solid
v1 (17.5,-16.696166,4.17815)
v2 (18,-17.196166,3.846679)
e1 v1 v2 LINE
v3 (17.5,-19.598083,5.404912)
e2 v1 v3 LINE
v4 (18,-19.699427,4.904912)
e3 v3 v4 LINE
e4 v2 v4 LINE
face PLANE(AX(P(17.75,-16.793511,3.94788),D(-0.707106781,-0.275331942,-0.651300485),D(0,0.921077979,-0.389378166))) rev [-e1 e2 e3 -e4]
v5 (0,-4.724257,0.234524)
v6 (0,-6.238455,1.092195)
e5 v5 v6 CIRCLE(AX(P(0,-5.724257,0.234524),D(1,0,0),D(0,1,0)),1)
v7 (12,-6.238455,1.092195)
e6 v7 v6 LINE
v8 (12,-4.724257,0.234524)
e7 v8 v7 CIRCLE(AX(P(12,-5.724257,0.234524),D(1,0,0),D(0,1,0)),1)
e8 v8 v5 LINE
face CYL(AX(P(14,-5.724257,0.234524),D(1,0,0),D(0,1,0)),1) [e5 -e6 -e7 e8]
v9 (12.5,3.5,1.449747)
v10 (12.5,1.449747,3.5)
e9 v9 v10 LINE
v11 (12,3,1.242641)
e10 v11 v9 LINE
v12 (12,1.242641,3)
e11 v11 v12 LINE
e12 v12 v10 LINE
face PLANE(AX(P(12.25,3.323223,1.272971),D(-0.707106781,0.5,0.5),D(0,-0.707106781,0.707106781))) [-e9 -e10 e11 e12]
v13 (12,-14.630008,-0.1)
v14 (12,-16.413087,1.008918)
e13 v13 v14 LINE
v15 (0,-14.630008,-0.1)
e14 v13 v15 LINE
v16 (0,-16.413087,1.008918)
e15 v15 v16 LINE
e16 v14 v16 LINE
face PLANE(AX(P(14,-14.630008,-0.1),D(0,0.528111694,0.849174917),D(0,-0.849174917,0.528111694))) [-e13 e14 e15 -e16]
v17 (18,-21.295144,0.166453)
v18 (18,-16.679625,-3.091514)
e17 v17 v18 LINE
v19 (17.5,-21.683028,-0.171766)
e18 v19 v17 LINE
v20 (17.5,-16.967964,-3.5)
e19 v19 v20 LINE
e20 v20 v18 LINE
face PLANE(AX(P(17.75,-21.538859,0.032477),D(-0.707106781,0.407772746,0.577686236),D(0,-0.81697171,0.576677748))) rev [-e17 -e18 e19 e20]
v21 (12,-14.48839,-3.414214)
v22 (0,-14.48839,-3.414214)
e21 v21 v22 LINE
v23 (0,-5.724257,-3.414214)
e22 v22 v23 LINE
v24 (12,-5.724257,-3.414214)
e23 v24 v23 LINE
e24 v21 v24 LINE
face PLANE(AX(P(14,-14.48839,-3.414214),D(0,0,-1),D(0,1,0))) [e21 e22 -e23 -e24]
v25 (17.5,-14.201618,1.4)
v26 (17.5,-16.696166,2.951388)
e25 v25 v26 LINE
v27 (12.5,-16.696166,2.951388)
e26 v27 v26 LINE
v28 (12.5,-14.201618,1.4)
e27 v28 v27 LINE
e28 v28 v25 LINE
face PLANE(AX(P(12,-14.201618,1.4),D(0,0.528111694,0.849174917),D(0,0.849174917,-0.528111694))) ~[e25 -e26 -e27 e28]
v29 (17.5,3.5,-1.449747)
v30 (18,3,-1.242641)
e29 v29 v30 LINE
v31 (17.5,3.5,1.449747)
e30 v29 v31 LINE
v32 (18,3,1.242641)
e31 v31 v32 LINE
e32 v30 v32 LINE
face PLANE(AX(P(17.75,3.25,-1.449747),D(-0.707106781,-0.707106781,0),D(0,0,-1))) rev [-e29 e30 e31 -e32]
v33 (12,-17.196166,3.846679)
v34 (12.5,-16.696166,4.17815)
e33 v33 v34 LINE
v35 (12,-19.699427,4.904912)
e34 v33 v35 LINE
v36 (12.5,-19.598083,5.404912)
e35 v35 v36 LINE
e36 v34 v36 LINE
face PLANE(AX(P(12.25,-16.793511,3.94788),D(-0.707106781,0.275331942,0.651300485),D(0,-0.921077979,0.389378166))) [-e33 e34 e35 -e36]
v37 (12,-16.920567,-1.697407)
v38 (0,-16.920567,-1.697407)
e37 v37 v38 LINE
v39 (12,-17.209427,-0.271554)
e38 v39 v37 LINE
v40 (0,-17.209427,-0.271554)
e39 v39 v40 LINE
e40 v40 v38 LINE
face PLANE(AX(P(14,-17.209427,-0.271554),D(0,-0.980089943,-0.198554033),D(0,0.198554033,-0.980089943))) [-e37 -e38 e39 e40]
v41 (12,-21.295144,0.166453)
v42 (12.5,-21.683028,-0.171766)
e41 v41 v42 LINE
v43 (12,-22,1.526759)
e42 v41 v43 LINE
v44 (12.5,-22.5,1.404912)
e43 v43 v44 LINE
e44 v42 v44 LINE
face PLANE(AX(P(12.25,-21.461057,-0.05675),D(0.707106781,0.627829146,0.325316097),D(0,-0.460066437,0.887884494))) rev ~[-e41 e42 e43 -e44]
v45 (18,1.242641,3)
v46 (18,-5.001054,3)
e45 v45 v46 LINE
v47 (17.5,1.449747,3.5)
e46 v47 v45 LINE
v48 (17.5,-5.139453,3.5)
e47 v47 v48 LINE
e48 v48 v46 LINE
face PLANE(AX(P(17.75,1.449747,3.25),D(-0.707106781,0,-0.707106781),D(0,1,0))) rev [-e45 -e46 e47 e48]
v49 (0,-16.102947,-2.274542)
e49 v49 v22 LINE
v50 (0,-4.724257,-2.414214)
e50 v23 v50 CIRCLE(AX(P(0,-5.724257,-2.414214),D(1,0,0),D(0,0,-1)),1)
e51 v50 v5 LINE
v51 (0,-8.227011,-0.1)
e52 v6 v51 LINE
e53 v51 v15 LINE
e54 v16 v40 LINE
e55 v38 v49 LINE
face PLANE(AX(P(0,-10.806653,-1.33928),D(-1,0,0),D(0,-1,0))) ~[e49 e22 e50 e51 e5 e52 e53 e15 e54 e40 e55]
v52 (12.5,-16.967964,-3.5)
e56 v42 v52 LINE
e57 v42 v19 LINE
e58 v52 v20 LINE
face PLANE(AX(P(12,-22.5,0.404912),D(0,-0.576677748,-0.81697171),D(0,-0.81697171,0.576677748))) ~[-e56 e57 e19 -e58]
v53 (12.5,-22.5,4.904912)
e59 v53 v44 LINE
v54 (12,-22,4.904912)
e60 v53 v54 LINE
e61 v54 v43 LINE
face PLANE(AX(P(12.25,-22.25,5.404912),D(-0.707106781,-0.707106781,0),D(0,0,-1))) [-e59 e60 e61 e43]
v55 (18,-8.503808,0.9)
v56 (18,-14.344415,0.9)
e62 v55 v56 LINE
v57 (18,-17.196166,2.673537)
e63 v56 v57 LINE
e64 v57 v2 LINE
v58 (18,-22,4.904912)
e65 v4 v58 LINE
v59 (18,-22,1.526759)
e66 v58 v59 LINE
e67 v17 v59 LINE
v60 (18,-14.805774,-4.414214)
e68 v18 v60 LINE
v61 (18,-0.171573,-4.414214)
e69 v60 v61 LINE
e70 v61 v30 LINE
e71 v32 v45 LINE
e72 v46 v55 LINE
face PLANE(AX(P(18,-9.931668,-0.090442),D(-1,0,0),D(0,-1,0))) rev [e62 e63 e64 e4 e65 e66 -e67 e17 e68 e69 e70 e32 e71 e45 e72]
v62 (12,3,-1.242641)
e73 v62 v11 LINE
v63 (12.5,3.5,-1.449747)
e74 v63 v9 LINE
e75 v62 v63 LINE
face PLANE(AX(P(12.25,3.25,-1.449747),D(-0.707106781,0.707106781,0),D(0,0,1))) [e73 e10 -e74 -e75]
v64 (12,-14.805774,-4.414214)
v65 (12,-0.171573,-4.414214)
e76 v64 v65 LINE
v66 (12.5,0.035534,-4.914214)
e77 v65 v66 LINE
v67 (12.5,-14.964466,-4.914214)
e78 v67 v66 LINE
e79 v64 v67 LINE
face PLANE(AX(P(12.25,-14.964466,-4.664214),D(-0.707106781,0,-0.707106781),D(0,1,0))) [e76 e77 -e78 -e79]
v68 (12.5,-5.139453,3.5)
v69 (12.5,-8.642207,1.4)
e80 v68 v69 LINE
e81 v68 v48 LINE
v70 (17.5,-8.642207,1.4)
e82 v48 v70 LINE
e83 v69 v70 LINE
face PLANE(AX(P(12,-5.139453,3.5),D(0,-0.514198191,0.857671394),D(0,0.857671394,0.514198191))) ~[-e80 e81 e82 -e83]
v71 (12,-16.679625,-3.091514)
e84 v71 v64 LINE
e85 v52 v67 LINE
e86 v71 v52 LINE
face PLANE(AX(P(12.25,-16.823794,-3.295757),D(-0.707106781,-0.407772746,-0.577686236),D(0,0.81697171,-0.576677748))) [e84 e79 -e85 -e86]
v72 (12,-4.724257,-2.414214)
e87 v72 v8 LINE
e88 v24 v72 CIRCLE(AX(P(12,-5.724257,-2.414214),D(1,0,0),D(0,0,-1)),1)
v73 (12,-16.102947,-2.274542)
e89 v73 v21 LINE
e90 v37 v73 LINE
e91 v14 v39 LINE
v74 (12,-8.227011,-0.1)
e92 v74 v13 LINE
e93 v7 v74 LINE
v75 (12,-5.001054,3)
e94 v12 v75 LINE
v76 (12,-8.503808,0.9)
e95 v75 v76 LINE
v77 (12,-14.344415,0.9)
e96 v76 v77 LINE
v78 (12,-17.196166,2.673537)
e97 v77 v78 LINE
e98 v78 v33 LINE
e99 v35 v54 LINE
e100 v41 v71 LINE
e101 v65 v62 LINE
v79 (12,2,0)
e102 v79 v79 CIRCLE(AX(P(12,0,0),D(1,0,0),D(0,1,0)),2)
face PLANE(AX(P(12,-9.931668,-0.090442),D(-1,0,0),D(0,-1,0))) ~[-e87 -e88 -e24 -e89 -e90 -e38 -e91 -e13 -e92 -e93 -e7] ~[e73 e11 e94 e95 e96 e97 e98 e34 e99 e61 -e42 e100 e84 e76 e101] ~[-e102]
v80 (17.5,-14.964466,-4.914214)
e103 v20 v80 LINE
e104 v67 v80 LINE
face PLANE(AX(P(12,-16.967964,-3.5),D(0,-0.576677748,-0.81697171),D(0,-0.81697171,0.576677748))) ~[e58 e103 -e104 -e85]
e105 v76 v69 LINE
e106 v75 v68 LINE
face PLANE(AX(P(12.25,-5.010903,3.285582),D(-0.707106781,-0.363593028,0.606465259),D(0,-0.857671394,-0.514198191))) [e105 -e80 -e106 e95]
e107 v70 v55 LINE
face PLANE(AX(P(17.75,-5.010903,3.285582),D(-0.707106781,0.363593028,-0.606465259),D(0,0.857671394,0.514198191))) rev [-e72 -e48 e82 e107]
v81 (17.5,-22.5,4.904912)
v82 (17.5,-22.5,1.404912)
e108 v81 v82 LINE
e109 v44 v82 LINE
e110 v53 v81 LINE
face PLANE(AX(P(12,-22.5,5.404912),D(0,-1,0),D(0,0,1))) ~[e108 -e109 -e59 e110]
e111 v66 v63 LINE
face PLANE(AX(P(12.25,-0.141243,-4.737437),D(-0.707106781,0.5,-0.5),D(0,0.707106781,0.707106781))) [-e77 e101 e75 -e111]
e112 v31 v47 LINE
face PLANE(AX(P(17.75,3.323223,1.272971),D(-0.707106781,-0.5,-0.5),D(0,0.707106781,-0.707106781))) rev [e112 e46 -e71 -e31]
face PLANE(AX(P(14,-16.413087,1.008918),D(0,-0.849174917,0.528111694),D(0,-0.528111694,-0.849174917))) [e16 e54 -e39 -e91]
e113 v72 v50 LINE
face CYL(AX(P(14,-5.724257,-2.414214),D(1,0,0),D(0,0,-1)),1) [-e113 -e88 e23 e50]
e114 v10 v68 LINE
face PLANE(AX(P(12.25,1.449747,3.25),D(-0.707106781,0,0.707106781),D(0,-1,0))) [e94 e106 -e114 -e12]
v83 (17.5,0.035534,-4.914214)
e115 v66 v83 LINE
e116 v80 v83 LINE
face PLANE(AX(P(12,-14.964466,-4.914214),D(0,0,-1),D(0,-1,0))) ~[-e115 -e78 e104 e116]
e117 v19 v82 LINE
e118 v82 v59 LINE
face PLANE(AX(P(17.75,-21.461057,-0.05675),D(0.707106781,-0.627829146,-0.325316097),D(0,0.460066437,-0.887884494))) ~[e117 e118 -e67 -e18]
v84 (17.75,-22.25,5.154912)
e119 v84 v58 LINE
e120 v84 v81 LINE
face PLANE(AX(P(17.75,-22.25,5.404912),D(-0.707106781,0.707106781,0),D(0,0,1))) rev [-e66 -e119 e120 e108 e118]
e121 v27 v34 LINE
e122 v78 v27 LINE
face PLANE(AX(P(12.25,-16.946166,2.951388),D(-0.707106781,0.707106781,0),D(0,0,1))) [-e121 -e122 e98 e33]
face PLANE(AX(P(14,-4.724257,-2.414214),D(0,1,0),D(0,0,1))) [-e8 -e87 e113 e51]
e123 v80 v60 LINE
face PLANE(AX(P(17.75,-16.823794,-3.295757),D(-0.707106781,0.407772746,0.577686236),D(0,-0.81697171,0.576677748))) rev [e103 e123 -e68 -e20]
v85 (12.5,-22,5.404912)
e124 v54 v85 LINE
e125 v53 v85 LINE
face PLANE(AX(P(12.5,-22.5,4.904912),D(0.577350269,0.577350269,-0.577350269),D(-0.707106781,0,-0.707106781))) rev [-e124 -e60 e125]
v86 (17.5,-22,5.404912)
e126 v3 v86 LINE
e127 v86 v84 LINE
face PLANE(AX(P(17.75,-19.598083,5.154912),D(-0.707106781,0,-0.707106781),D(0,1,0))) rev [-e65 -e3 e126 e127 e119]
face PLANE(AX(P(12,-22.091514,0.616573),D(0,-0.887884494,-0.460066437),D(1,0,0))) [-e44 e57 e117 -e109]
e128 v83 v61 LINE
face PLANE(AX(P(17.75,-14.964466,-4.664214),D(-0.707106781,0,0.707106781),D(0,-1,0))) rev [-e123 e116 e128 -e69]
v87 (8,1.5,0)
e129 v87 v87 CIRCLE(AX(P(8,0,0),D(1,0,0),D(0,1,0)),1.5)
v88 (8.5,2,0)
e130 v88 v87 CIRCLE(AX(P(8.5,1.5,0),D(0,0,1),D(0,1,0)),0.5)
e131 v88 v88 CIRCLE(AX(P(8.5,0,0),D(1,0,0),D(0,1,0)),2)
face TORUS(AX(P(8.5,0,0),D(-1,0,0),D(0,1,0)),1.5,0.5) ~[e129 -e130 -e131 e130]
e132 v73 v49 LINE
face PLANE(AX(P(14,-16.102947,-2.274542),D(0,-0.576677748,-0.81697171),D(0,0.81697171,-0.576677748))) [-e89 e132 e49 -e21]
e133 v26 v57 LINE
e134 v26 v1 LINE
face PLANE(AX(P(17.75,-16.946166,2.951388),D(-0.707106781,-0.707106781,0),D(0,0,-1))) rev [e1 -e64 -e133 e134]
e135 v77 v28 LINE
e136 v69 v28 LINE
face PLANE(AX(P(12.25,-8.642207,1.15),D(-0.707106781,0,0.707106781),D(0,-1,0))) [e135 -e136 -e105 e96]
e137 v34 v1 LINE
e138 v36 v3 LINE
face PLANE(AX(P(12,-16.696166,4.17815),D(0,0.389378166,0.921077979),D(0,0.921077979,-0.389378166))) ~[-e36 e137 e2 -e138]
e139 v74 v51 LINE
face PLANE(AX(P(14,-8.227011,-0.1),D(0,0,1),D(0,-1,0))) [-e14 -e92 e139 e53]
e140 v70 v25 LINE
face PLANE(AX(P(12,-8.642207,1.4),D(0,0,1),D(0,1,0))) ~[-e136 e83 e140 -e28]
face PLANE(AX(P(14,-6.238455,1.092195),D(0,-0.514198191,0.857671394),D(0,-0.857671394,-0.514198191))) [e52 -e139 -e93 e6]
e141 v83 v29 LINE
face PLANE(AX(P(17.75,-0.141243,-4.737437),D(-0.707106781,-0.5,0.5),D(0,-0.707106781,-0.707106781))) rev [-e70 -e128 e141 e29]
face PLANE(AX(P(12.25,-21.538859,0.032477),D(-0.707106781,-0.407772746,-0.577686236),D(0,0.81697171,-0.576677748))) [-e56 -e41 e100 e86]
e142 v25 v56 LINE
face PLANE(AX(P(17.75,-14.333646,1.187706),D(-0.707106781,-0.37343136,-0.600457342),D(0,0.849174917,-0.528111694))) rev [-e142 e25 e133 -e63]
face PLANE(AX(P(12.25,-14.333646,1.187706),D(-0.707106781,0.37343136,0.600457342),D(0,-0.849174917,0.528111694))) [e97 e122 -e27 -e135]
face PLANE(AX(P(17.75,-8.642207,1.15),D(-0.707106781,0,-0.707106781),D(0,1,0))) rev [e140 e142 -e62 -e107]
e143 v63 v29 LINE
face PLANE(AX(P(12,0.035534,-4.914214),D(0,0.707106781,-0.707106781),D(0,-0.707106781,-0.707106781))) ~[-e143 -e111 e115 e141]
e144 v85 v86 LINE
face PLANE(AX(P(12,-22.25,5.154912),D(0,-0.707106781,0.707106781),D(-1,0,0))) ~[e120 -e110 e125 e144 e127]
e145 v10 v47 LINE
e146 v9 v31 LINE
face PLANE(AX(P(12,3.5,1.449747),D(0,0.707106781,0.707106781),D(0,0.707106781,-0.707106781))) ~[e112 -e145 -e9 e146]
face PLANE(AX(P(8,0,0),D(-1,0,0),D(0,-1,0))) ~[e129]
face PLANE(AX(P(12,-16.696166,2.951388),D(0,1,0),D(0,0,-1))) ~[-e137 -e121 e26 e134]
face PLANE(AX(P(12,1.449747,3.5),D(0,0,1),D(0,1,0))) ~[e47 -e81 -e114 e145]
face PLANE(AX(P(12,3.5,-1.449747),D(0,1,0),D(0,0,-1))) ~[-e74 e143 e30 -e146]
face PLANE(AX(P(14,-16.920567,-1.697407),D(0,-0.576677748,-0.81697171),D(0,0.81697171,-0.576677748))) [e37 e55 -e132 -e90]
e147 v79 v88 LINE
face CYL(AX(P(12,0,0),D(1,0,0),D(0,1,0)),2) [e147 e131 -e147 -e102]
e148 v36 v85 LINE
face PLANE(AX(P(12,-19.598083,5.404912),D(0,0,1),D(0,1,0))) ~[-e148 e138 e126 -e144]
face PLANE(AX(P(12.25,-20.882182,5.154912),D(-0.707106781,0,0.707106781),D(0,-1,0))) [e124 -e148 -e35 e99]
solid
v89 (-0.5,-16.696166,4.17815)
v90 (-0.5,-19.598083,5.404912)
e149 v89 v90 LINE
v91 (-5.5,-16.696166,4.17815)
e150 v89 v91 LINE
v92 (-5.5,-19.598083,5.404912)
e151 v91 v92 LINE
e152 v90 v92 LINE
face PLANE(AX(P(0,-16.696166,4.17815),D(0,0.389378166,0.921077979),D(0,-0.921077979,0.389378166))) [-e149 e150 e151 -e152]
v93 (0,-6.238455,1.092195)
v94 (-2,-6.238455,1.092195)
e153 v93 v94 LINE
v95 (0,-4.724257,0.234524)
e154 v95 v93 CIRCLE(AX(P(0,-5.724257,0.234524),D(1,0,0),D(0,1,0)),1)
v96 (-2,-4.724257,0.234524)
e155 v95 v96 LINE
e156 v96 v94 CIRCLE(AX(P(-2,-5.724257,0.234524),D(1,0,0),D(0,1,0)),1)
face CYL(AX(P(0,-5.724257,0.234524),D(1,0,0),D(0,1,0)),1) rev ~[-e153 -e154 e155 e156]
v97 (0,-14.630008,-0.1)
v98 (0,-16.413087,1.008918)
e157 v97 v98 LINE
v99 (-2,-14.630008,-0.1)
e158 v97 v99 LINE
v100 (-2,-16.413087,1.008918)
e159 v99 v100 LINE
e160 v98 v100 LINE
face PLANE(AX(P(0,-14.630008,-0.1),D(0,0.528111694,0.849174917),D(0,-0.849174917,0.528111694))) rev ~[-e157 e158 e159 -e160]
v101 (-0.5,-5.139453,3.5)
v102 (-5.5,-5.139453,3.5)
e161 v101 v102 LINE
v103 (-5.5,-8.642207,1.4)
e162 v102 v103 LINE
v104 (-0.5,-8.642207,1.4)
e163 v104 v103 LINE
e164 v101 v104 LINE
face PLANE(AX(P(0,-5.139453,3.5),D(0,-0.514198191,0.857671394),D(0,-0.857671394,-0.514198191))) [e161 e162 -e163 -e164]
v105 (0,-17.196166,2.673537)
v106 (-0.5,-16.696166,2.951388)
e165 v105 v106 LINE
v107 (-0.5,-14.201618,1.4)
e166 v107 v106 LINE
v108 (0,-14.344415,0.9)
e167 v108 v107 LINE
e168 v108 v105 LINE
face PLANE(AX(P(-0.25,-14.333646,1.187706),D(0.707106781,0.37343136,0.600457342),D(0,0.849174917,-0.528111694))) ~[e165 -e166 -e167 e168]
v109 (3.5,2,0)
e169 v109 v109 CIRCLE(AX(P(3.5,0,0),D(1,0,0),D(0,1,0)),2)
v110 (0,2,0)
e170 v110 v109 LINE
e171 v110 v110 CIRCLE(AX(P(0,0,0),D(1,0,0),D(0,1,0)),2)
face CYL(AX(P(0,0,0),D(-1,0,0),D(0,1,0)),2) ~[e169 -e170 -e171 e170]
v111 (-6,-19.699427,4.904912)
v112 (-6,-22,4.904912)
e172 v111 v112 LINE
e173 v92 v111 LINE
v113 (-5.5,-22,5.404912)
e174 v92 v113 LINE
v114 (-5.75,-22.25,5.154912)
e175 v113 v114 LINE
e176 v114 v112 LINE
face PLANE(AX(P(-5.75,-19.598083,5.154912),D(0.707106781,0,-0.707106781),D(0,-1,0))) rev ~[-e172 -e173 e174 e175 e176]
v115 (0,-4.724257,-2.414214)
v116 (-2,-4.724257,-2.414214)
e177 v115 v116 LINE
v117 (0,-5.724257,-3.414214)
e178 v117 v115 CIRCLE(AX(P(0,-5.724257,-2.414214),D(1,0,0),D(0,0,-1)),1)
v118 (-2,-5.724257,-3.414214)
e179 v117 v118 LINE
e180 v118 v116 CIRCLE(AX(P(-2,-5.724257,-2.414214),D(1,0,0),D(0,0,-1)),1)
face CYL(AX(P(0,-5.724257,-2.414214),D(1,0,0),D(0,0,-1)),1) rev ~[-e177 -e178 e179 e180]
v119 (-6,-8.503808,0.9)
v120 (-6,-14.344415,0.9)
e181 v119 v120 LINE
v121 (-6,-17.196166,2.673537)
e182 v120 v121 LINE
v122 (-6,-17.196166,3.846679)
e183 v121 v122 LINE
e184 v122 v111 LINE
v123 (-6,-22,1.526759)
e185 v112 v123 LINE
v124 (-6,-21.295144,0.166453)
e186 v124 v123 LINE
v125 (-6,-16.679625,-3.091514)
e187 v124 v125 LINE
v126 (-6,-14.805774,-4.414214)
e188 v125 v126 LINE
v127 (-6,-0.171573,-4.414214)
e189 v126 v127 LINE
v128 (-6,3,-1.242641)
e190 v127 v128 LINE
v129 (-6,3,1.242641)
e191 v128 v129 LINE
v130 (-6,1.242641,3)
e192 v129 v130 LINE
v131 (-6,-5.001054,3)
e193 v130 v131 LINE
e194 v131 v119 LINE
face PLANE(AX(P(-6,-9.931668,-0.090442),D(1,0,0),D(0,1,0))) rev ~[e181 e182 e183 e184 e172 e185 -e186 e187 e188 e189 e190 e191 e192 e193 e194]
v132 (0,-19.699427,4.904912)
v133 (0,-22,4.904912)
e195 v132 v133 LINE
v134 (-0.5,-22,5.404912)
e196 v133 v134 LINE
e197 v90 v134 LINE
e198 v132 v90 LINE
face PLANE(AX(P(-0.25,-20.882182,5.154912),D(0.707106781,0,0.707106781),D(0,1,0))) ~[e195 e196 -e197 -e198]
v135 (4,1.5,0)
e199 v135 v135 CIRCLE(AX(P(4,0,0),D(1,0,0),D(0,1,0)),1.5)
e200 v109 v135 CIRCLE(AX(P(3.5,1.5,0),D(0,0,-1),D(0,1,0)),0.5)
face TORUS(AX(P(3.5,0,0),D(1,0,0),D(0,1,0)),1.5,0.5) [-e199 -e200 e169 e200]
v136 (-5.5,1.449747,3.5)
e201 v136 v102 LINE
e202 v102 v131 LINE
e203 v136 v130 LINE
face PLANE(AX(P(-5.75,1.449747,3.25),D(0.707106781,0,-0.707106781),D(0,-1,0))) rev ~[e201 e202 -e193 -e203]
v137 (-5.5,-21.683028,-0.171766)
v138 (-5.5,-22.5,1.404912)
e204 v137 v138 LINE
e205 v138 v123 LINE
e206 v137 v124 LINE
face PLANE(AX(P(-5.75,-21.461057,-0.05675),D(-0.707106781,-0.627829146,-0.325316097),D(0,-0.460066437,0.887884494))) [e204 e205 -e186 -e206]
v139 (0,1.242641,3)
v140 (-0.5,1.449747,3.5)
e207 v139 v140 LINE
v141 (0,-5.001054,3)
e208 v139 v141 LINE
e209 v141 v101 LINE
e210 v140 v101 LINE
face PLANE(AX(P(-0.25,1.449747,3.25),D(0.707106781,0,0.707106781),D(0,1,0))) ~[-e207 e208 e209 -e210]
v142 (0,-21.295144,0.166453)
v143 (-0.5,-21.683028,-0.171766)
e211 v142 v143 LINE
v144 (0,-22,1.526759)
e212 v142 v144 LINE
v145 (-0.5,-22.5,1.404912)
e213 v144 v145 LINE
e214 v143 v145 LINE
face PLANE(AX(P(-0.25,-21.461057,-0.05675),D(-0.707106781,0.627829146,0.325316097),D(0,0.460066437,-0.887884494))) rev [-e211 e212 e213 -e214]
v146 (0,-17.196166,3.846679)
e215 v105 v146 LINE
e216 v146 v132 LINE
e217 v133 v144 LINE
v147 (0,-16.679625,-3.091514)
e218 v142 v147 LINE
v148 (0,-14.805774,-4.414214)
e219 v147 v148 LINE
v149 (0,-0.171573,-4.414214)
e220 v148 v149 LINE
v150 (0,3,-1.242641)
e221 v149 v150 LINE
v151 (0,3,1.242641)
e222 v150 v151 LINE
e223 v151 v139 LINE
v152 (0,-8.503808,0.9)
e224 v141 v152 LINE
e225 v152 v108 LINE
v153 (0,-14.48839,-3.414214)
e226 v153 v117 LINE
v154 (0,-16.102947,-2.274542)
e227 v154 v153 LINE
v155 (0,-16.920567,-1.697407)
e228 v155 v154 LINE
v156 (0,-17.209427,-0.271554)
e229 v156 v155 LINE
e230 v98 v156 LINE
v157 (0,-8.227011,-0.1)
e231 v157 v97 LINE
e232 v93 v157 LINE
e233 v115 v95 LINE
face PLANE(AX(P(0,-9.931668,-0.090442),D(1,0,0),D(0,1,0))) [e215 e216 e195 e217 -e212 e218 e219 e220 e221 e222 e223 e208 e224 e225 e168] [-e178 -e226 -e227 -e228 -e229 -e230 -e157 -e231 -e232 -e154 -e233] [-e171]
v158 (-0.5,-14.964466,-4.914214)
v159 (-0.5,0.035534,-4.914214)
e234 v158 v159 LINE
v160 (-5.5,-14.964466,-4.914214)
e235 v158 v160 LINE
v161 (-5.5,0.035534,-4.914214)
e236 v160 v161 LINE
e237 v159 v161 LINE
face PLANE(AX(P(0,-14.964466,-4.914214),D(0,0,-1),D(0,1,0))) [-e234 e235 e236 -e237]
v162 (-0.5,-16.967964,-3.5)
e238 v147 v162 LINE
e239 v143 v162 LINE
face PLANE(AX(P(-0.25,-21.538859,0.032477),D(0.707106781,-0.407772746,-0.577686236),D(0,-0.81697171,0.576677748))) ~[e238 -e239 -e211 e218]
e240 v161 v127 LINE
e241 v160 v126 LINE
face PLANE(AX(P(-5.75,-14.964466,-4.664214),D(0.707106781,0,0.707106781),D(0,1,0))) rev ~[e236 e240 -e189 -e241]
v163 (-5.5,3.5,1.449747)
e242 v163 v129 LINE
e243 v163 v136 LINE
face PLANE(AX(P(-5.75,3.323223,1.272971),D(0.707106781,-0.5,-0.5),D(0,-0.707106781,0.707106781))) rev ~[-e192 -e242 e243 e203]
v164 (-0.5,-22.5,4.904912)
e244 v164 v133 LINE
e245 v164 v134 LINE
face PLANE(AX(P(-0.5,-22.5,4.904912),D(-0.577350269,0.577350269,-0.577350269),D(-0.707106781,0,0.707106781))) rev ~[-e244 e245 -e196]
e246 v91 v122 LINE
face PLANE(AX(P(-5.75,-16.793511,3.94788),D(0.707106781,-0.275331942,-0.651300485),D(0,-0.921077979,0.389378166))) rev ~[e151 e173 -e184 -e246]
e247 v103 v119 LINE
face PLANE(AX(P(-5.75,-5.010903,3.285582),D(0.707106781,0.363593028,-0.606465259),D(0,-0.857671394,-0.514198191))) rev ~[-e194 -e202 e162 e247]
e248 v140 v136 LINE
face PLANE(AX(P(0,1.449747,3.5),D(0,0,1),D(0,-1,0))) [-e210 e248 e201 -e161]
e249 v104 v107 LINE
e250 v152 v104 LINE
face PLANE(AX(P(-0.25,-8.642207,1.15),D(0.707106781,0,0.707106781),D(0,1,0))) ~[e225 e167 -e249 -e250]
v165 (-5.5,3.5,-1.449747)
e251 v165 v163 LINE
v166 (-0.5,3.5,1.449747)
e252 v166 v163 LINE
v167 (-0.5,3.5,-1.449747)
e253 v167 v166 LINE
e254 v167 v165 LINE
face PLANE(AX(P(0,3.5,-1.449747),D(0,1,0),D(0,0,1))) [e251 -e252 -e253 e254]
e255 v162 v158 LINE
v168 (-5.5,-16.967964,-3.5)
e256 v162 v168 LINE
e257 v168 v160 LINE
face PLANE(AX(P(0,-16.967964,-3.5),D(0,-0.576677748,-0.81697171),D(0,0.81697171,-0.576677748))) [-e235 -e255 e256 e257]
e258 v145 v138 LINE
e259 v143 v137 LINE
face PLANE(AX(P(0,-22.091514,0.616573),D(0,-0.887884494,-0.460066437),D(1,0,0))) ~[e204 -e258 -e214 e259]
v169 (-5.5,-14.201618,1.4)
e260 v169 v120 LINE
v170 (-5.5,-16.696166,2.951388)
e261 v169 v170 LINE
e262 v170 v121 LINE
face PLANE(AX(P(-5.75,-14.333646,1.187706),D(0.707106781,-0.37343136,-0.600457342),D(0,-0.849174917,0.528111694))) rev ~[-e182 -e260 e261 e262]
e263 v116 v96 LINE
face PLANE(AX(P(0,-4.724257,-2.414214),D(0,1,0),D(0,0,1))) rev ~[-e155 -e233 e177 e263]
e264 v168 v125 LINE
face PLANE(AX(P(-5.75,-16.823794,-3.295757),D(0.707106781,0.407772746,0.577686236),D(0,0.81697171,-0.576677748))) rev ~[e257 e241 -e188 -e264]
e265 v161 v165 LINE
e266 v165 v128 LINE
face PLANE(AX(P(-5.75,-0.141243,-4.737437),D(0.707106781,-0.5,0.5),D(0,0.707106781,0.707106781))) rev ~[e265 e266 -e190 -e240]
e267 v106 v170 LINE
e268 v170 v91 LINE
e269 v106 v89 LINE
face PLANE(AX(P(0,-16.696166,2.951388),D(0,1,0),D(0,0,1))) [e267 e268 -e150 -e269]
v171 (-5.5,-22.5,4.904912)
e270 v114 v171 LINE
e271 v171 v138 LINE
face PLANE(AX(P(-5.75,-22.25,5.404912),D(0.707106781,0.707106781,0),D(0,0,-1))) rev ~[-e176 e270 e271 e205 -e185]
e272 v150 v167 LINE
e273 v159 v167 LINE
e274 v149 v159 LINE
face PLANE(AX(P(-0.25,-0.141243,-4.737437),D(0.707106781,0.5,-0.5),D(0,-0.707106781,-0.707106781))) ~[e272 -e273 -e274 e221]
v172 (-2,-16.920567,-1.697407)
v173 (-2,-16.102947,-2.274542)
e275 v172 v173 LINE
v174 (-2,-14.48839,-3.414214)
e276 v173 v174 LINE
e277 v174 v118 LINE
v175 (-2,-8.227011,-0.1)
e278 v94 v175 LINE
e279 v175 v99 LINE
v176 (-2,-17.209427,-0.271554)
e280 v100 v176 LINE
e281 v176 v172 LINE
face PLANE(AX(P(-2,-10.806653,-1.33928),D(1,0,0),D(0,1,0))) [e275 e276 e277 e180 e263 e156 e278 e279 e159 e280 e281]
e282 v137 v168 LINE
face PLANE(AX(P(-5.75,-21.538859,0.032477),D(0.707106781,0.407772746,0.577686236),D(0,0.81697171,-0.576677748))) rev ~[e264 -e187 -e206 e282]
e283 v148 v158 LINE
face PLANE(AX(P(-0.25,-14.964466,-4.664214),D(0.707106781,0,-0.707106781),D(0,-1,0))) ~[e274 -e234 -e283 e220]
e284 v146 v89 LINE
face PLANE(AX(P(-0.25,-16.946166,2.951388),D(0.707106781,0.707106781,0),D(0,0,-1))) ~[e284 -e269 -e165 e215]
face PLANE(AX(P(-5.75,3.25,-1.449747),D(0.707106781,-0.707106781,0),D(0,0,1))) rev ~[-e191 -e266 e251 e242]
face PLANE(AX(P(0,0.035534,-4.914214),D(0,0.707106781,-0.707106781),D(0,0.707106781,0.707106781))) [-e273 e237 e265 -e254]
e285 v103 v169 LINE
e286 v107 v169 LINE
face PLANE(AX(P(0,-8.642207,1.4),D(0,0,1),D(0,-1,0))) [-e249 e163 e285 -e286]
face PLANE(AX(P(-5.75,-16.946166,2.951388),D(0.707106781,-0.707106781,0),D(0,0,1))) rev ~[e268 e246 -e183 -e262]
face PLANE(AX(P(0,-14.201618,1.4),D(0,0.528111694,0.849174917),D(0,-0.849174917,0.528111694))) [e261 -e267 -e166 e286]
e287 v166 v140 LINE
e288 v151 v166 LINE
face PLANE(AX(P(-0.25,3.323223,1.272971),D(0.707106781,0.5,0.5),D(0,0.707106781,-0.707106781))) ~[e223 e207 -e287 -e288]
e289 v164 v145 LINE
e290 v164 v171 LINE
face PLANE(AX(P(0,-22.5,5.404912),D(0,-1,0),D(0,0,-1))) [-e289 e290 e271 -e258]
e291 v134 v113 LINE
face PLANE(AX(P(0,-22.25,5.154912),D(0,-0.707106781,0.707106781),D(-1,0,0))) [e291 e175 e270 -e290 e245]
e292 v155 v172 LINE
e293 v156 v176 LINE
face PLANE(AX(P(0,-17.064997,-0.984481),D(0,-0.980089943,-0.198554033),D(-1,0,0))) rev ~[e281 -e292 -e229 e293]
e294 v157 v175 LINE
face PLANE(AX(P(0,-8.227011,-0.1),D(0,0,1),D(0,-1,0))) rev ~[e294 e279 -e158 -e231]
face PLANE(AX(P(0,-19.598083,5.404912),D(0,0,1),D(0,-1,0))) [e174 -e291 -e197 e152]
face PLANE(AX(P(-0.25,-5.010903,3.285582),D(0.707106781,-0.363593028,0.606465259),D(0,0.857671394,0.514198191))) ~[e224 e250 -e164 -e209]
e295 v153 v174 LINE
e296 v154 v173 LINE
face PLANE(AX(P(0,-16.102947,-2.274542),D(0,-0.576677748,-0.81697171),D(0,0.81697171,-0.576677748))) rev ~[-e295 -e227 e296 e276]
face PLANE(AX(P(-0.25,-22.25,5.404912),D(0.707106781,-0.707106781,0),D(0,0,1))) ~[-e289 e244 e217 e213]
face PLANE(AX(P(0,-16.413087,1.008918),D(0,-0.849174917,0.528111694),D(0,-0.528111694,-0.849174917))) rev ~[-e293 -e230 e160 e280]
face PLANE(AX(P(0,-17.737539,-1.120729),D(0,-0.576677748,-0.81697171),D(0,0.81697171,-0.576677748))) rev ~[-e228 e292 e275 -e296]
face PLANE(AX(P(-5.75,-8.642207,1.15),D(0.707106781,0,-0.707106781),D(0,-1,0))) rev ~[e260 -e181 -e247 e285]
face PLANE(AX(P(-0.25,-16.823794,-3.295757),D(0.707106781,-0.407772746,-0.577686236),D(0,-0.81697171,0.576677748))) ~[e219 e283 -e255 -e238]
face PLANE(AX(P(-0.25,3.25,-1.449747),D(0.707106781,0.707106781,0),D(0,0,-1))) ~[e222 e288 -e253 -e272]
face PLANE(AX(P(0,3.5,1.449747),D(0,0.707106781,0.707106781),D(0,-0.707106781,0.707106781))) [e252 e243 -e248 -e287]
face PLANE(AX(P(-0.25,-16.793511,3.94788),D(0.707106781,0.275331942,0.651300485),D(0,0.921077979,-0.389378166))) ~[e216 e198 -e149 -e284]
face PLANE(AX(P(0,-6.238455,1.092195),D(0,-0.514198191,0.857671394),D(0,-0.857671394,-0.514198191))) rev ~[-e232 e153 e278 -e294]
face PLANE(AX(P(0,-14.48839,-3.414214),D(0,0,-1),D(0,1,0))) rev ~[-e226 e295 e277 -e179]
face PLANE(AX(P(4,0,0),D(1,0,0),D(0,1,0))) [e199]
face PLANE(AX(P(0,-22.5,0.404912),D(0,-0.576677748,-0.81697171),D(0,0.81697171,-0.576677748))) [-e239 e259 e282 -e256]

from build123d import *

# Parameters (mm, degrees)
F0_R      = 2
F1_DEPTH  = 6
F2_DEPTH  = 4
F3_DEPTH  = 2
F4_SIZE   = 1
F5_SIZE   = 1
F6_SIZE   = 0.5
F7_SIZE   = 0.5
F8_R      = 0.5
F11_DEPTH = 14


with BuildPart() as f1:
    # F0 (on Right) → F1 (new body)
    with BuildSketch(Plane.YZ):
        Polygon((1.4497474683, 3.5), (-1.4497474683, 3.5), (-5.139452645, 3.5), (-8.6422068998, 1.400000032), (-11.1441742629, 1.400000032), (-14.201618099, 1.400000032), (-16.696166385, 2.9513884384), (-16.696166385, 4.178149983), (-19.5980831925, 5.4049115275), (-22.5, 5.4049115275), (-22.5, 0.4049115275), (-16.9679636748, -3.5), (-14.9644660941, -4.9142135624), (0.0355339059, -4.9142135624), (1.4497474683, -3.5), (3.5, -1.4497474683), (3.5, 1.4497474683), align=None)
        with BuildLine():
            Line((-16.1029470532, -2.2745424348), (-17.7375390443, -1.120729131))
            Line((-17.7375390443, -1.120729131), (-16.4130871063, 1.008917641))
            Line((-16.4130871063, 1.008917641), (-14.6300078277, -0.099999968))
            Line((-14.6300078277, -0.099999968), (-11.1441742629, -0.099999968))
            Line((-11.1441742629, -0.099999968), (-8.2270111399, -0.099999968))
            Line((-8.2270111399, -0.099999968), (-6.2384550759, 1.092195478))
            ThreePointArc((-6.2384550759, 1.092195478), (-5.2314071062, 1.1046384988), (-4.7242568851, 0.2345240837))
            Line((-4.7242568851, 0.2345240837), (-4.7242568851, -2.4142135624))
            ThreePointArc((-4.7242568851, -2.4142135624), (-5.0171501039, -3.1213203436), (-5.7242568851, -3.4142135624))
            Line((-5.7242568851, -3.4142135624), (-14.4883900953, -3.4142135624))
            Line((-14.4883900953, -3.4142135624), (-16.1029470532, -2.2745424348))
        make_face(mode=Mode.SUBTRACT)
        Circle(F0_R, mode=Mode.SUBTRACT)
        with BuildLine():
            Line((-16.4130871063, 1.008917641), (-17.7375390443, -1.120729131))
            Line((-17.7375390443, -1.120729131), (-16.1029470532, -2.2745424348))
            Line((-16.1029470532, -2.2745424348), (-14.4883900953, -3.4142135624))
            Line((-14.4883900953, -3.4142135624), (-5.7242568851, -3.4142135624))
            ThreePointArc((-5.7242568851, -3.4142135624), (-5.0171501039, -3.1213203436), (-4.7242568851, -2.4142135624))
            Line((-4.7242568851, -2.4142135624), (-4.7242568851, 0.2345240837))
            ThreePointArc((-4.7242568851, 0.2345240837), (-5.2314071062, 1.1046384988), (-6.2384550759, 1.092195478))
            Line((-6.2384550759, 1.092195478), (-8.2270111399, -0.099999968))
            Line((-8.2270111399, -0.099999968), (-11.1441742629, -0.099999968))
            Line((-11.1441742629, -0.099999968), (-14.6300078277, -0.099999968))
            Line((-14.6300078277, -0.099999968), (-16.4130871063, 1.008917641))
        make_face()
        Circle(F0_R)
    extrude(amount=-F1_DEPTH)

    # F0 (on Right) → F2 (join)
    with BuildSketch(Plane.YZ):
        Circle(F0_R)
    extrude(amount=F2_DEPTH)

    # F0 (on Right) → F3 (cut)
    with BuildSketch(Plane.YZ):
        with BuildLine():
            Line((-16.4130871063, 1.008917641), (-17.7375390443, -1.120729131))
            Line((-17.7375390443, -1.120729131), (-16.1029470532, -2.2745424348))
            Line((-16.1029470532, -2.2745424348), (-14.4883900953, -3.4142135624))
            Line((-14.4883900953, -3.4142135624), (-5.7242568851, -3.4142135624))
            ThreePointArc((-5.7242568851, -3.4142135624), (-5.0171501039, -3.1213203436), (-4.7242568851, -2.4142135624))
            Line((-4.7242568851, -2.4142135624), (-4.7242568851, 0.2345240837))
            ThreePointArc((-4.7242568851, 0.2345240837), (-5.2314071062, 1.1046384988), (-6.2384550759, 1.092195478))
            Line((-6.2384550759, 1.092195478), (-8.2270111399, -0.099999968))
            Line((-8.2270111399, -0.099999968), (-11.1441742629, -0.099999968))
            Line((-11.1441742629, -0.099999968), (-14.6300078277, -0.099999968))
            Line((-14.6300078277, -0.099999968), (-16.4130871063, 1.008917641))
        make_face()
    extrude(amount=-F3_DEPTH, mode=Mode.SUBTRACT)

    # F4
    f4_edges = [f1.edges().sort_by_distance(p)[0] for p in [
        (-1, -17.737539, -1.120729),
    ]]
    chamfer(f4_edges, length=F4_SIZE)

    # F5
    f5_edges = [f1.edges().sort_by_distance(p)[0] for p in [
        (-3, -22.5, 0.404912),
    ]]
    chamfer(f5_edges, length=F5_SIZE)

    # F6
    f6_edges = [f1.edges().sort_by_distance(p)[0] for p in [
        (-6, -21.049042, 5.404912),
        (-6, -15.448892, 2.175694),
        (-6, -11.421912, 1.4),
        (-6, -6.89083, 2.45),
        (-6, -1.844853, 3.5),
        (-6, -22.091514, 0.616573),
        (-6, -18.323747, -2.54299),
        (-6, -22.5, 3.404912),
        (-6, 2.474874, 2.474874),
        (-6, 3.5, 0),
        (-6, 1.767767, -3.181981),
        (-6, -16.696166, 3.564769),
        (-6, -7.464466, -4.914214),
        (-6, -18.147125, 4.791531),
        (0, -18.147125, 4.791531),
    ]]
    chamfer(f6_edges, length=F6_SIZE)

    # F7
    f7_edges = [f1.edges().sort_by_distance(p)[0] for p in [
        (0, -11.421912, 1.4),
        (0, -6.89083, 2.45),
        (0, -15.448892, 2.175694),
        (0, -16.696166, 3.293348),
        (0, -21.691091, 5.404912),
        (0, -22.5, 3.404912),
        (0, -22.091514, 0.616573),
        (0, -18.323747, -2.54299),
        (0, -7.464466, -4.914214),
        (0, 1.767767, -3.181981),
        (0, 3.5, 0),
        (0, 2.474874, 2.474874),
        (0, -1.844853, 3.5),
        (-2.75, -22.5, 5.404912),
    ]]
    chamfer(f7_edges, length=F7_SIZE)

    # F8
    f8_edges = [f1.edges().sort_by_distance(p)[0] for p in [
        (4, -2, 0),
    ]]
    fillet(f8_edges, radius=F8_R)


with BuildPart() as f10_1:
    # F10: instance of F1
    add(f1.part.mirror(Plane.YZ.offset(6)))


with BuildPart() as f1_1:
    add(f1.part)

    # F11 (add): a face of the model
    f11_faces = [f10_1.part.faces().sort_by_distance(p)[0] for p in [
        (14, -10.4675316071, -1.4739709128),
    ]]

    add(f10_1.part)  # F11 merges F10_1
    extrude(f11_faces, amount=F11_DEPTH)


solid = f1_1.part
